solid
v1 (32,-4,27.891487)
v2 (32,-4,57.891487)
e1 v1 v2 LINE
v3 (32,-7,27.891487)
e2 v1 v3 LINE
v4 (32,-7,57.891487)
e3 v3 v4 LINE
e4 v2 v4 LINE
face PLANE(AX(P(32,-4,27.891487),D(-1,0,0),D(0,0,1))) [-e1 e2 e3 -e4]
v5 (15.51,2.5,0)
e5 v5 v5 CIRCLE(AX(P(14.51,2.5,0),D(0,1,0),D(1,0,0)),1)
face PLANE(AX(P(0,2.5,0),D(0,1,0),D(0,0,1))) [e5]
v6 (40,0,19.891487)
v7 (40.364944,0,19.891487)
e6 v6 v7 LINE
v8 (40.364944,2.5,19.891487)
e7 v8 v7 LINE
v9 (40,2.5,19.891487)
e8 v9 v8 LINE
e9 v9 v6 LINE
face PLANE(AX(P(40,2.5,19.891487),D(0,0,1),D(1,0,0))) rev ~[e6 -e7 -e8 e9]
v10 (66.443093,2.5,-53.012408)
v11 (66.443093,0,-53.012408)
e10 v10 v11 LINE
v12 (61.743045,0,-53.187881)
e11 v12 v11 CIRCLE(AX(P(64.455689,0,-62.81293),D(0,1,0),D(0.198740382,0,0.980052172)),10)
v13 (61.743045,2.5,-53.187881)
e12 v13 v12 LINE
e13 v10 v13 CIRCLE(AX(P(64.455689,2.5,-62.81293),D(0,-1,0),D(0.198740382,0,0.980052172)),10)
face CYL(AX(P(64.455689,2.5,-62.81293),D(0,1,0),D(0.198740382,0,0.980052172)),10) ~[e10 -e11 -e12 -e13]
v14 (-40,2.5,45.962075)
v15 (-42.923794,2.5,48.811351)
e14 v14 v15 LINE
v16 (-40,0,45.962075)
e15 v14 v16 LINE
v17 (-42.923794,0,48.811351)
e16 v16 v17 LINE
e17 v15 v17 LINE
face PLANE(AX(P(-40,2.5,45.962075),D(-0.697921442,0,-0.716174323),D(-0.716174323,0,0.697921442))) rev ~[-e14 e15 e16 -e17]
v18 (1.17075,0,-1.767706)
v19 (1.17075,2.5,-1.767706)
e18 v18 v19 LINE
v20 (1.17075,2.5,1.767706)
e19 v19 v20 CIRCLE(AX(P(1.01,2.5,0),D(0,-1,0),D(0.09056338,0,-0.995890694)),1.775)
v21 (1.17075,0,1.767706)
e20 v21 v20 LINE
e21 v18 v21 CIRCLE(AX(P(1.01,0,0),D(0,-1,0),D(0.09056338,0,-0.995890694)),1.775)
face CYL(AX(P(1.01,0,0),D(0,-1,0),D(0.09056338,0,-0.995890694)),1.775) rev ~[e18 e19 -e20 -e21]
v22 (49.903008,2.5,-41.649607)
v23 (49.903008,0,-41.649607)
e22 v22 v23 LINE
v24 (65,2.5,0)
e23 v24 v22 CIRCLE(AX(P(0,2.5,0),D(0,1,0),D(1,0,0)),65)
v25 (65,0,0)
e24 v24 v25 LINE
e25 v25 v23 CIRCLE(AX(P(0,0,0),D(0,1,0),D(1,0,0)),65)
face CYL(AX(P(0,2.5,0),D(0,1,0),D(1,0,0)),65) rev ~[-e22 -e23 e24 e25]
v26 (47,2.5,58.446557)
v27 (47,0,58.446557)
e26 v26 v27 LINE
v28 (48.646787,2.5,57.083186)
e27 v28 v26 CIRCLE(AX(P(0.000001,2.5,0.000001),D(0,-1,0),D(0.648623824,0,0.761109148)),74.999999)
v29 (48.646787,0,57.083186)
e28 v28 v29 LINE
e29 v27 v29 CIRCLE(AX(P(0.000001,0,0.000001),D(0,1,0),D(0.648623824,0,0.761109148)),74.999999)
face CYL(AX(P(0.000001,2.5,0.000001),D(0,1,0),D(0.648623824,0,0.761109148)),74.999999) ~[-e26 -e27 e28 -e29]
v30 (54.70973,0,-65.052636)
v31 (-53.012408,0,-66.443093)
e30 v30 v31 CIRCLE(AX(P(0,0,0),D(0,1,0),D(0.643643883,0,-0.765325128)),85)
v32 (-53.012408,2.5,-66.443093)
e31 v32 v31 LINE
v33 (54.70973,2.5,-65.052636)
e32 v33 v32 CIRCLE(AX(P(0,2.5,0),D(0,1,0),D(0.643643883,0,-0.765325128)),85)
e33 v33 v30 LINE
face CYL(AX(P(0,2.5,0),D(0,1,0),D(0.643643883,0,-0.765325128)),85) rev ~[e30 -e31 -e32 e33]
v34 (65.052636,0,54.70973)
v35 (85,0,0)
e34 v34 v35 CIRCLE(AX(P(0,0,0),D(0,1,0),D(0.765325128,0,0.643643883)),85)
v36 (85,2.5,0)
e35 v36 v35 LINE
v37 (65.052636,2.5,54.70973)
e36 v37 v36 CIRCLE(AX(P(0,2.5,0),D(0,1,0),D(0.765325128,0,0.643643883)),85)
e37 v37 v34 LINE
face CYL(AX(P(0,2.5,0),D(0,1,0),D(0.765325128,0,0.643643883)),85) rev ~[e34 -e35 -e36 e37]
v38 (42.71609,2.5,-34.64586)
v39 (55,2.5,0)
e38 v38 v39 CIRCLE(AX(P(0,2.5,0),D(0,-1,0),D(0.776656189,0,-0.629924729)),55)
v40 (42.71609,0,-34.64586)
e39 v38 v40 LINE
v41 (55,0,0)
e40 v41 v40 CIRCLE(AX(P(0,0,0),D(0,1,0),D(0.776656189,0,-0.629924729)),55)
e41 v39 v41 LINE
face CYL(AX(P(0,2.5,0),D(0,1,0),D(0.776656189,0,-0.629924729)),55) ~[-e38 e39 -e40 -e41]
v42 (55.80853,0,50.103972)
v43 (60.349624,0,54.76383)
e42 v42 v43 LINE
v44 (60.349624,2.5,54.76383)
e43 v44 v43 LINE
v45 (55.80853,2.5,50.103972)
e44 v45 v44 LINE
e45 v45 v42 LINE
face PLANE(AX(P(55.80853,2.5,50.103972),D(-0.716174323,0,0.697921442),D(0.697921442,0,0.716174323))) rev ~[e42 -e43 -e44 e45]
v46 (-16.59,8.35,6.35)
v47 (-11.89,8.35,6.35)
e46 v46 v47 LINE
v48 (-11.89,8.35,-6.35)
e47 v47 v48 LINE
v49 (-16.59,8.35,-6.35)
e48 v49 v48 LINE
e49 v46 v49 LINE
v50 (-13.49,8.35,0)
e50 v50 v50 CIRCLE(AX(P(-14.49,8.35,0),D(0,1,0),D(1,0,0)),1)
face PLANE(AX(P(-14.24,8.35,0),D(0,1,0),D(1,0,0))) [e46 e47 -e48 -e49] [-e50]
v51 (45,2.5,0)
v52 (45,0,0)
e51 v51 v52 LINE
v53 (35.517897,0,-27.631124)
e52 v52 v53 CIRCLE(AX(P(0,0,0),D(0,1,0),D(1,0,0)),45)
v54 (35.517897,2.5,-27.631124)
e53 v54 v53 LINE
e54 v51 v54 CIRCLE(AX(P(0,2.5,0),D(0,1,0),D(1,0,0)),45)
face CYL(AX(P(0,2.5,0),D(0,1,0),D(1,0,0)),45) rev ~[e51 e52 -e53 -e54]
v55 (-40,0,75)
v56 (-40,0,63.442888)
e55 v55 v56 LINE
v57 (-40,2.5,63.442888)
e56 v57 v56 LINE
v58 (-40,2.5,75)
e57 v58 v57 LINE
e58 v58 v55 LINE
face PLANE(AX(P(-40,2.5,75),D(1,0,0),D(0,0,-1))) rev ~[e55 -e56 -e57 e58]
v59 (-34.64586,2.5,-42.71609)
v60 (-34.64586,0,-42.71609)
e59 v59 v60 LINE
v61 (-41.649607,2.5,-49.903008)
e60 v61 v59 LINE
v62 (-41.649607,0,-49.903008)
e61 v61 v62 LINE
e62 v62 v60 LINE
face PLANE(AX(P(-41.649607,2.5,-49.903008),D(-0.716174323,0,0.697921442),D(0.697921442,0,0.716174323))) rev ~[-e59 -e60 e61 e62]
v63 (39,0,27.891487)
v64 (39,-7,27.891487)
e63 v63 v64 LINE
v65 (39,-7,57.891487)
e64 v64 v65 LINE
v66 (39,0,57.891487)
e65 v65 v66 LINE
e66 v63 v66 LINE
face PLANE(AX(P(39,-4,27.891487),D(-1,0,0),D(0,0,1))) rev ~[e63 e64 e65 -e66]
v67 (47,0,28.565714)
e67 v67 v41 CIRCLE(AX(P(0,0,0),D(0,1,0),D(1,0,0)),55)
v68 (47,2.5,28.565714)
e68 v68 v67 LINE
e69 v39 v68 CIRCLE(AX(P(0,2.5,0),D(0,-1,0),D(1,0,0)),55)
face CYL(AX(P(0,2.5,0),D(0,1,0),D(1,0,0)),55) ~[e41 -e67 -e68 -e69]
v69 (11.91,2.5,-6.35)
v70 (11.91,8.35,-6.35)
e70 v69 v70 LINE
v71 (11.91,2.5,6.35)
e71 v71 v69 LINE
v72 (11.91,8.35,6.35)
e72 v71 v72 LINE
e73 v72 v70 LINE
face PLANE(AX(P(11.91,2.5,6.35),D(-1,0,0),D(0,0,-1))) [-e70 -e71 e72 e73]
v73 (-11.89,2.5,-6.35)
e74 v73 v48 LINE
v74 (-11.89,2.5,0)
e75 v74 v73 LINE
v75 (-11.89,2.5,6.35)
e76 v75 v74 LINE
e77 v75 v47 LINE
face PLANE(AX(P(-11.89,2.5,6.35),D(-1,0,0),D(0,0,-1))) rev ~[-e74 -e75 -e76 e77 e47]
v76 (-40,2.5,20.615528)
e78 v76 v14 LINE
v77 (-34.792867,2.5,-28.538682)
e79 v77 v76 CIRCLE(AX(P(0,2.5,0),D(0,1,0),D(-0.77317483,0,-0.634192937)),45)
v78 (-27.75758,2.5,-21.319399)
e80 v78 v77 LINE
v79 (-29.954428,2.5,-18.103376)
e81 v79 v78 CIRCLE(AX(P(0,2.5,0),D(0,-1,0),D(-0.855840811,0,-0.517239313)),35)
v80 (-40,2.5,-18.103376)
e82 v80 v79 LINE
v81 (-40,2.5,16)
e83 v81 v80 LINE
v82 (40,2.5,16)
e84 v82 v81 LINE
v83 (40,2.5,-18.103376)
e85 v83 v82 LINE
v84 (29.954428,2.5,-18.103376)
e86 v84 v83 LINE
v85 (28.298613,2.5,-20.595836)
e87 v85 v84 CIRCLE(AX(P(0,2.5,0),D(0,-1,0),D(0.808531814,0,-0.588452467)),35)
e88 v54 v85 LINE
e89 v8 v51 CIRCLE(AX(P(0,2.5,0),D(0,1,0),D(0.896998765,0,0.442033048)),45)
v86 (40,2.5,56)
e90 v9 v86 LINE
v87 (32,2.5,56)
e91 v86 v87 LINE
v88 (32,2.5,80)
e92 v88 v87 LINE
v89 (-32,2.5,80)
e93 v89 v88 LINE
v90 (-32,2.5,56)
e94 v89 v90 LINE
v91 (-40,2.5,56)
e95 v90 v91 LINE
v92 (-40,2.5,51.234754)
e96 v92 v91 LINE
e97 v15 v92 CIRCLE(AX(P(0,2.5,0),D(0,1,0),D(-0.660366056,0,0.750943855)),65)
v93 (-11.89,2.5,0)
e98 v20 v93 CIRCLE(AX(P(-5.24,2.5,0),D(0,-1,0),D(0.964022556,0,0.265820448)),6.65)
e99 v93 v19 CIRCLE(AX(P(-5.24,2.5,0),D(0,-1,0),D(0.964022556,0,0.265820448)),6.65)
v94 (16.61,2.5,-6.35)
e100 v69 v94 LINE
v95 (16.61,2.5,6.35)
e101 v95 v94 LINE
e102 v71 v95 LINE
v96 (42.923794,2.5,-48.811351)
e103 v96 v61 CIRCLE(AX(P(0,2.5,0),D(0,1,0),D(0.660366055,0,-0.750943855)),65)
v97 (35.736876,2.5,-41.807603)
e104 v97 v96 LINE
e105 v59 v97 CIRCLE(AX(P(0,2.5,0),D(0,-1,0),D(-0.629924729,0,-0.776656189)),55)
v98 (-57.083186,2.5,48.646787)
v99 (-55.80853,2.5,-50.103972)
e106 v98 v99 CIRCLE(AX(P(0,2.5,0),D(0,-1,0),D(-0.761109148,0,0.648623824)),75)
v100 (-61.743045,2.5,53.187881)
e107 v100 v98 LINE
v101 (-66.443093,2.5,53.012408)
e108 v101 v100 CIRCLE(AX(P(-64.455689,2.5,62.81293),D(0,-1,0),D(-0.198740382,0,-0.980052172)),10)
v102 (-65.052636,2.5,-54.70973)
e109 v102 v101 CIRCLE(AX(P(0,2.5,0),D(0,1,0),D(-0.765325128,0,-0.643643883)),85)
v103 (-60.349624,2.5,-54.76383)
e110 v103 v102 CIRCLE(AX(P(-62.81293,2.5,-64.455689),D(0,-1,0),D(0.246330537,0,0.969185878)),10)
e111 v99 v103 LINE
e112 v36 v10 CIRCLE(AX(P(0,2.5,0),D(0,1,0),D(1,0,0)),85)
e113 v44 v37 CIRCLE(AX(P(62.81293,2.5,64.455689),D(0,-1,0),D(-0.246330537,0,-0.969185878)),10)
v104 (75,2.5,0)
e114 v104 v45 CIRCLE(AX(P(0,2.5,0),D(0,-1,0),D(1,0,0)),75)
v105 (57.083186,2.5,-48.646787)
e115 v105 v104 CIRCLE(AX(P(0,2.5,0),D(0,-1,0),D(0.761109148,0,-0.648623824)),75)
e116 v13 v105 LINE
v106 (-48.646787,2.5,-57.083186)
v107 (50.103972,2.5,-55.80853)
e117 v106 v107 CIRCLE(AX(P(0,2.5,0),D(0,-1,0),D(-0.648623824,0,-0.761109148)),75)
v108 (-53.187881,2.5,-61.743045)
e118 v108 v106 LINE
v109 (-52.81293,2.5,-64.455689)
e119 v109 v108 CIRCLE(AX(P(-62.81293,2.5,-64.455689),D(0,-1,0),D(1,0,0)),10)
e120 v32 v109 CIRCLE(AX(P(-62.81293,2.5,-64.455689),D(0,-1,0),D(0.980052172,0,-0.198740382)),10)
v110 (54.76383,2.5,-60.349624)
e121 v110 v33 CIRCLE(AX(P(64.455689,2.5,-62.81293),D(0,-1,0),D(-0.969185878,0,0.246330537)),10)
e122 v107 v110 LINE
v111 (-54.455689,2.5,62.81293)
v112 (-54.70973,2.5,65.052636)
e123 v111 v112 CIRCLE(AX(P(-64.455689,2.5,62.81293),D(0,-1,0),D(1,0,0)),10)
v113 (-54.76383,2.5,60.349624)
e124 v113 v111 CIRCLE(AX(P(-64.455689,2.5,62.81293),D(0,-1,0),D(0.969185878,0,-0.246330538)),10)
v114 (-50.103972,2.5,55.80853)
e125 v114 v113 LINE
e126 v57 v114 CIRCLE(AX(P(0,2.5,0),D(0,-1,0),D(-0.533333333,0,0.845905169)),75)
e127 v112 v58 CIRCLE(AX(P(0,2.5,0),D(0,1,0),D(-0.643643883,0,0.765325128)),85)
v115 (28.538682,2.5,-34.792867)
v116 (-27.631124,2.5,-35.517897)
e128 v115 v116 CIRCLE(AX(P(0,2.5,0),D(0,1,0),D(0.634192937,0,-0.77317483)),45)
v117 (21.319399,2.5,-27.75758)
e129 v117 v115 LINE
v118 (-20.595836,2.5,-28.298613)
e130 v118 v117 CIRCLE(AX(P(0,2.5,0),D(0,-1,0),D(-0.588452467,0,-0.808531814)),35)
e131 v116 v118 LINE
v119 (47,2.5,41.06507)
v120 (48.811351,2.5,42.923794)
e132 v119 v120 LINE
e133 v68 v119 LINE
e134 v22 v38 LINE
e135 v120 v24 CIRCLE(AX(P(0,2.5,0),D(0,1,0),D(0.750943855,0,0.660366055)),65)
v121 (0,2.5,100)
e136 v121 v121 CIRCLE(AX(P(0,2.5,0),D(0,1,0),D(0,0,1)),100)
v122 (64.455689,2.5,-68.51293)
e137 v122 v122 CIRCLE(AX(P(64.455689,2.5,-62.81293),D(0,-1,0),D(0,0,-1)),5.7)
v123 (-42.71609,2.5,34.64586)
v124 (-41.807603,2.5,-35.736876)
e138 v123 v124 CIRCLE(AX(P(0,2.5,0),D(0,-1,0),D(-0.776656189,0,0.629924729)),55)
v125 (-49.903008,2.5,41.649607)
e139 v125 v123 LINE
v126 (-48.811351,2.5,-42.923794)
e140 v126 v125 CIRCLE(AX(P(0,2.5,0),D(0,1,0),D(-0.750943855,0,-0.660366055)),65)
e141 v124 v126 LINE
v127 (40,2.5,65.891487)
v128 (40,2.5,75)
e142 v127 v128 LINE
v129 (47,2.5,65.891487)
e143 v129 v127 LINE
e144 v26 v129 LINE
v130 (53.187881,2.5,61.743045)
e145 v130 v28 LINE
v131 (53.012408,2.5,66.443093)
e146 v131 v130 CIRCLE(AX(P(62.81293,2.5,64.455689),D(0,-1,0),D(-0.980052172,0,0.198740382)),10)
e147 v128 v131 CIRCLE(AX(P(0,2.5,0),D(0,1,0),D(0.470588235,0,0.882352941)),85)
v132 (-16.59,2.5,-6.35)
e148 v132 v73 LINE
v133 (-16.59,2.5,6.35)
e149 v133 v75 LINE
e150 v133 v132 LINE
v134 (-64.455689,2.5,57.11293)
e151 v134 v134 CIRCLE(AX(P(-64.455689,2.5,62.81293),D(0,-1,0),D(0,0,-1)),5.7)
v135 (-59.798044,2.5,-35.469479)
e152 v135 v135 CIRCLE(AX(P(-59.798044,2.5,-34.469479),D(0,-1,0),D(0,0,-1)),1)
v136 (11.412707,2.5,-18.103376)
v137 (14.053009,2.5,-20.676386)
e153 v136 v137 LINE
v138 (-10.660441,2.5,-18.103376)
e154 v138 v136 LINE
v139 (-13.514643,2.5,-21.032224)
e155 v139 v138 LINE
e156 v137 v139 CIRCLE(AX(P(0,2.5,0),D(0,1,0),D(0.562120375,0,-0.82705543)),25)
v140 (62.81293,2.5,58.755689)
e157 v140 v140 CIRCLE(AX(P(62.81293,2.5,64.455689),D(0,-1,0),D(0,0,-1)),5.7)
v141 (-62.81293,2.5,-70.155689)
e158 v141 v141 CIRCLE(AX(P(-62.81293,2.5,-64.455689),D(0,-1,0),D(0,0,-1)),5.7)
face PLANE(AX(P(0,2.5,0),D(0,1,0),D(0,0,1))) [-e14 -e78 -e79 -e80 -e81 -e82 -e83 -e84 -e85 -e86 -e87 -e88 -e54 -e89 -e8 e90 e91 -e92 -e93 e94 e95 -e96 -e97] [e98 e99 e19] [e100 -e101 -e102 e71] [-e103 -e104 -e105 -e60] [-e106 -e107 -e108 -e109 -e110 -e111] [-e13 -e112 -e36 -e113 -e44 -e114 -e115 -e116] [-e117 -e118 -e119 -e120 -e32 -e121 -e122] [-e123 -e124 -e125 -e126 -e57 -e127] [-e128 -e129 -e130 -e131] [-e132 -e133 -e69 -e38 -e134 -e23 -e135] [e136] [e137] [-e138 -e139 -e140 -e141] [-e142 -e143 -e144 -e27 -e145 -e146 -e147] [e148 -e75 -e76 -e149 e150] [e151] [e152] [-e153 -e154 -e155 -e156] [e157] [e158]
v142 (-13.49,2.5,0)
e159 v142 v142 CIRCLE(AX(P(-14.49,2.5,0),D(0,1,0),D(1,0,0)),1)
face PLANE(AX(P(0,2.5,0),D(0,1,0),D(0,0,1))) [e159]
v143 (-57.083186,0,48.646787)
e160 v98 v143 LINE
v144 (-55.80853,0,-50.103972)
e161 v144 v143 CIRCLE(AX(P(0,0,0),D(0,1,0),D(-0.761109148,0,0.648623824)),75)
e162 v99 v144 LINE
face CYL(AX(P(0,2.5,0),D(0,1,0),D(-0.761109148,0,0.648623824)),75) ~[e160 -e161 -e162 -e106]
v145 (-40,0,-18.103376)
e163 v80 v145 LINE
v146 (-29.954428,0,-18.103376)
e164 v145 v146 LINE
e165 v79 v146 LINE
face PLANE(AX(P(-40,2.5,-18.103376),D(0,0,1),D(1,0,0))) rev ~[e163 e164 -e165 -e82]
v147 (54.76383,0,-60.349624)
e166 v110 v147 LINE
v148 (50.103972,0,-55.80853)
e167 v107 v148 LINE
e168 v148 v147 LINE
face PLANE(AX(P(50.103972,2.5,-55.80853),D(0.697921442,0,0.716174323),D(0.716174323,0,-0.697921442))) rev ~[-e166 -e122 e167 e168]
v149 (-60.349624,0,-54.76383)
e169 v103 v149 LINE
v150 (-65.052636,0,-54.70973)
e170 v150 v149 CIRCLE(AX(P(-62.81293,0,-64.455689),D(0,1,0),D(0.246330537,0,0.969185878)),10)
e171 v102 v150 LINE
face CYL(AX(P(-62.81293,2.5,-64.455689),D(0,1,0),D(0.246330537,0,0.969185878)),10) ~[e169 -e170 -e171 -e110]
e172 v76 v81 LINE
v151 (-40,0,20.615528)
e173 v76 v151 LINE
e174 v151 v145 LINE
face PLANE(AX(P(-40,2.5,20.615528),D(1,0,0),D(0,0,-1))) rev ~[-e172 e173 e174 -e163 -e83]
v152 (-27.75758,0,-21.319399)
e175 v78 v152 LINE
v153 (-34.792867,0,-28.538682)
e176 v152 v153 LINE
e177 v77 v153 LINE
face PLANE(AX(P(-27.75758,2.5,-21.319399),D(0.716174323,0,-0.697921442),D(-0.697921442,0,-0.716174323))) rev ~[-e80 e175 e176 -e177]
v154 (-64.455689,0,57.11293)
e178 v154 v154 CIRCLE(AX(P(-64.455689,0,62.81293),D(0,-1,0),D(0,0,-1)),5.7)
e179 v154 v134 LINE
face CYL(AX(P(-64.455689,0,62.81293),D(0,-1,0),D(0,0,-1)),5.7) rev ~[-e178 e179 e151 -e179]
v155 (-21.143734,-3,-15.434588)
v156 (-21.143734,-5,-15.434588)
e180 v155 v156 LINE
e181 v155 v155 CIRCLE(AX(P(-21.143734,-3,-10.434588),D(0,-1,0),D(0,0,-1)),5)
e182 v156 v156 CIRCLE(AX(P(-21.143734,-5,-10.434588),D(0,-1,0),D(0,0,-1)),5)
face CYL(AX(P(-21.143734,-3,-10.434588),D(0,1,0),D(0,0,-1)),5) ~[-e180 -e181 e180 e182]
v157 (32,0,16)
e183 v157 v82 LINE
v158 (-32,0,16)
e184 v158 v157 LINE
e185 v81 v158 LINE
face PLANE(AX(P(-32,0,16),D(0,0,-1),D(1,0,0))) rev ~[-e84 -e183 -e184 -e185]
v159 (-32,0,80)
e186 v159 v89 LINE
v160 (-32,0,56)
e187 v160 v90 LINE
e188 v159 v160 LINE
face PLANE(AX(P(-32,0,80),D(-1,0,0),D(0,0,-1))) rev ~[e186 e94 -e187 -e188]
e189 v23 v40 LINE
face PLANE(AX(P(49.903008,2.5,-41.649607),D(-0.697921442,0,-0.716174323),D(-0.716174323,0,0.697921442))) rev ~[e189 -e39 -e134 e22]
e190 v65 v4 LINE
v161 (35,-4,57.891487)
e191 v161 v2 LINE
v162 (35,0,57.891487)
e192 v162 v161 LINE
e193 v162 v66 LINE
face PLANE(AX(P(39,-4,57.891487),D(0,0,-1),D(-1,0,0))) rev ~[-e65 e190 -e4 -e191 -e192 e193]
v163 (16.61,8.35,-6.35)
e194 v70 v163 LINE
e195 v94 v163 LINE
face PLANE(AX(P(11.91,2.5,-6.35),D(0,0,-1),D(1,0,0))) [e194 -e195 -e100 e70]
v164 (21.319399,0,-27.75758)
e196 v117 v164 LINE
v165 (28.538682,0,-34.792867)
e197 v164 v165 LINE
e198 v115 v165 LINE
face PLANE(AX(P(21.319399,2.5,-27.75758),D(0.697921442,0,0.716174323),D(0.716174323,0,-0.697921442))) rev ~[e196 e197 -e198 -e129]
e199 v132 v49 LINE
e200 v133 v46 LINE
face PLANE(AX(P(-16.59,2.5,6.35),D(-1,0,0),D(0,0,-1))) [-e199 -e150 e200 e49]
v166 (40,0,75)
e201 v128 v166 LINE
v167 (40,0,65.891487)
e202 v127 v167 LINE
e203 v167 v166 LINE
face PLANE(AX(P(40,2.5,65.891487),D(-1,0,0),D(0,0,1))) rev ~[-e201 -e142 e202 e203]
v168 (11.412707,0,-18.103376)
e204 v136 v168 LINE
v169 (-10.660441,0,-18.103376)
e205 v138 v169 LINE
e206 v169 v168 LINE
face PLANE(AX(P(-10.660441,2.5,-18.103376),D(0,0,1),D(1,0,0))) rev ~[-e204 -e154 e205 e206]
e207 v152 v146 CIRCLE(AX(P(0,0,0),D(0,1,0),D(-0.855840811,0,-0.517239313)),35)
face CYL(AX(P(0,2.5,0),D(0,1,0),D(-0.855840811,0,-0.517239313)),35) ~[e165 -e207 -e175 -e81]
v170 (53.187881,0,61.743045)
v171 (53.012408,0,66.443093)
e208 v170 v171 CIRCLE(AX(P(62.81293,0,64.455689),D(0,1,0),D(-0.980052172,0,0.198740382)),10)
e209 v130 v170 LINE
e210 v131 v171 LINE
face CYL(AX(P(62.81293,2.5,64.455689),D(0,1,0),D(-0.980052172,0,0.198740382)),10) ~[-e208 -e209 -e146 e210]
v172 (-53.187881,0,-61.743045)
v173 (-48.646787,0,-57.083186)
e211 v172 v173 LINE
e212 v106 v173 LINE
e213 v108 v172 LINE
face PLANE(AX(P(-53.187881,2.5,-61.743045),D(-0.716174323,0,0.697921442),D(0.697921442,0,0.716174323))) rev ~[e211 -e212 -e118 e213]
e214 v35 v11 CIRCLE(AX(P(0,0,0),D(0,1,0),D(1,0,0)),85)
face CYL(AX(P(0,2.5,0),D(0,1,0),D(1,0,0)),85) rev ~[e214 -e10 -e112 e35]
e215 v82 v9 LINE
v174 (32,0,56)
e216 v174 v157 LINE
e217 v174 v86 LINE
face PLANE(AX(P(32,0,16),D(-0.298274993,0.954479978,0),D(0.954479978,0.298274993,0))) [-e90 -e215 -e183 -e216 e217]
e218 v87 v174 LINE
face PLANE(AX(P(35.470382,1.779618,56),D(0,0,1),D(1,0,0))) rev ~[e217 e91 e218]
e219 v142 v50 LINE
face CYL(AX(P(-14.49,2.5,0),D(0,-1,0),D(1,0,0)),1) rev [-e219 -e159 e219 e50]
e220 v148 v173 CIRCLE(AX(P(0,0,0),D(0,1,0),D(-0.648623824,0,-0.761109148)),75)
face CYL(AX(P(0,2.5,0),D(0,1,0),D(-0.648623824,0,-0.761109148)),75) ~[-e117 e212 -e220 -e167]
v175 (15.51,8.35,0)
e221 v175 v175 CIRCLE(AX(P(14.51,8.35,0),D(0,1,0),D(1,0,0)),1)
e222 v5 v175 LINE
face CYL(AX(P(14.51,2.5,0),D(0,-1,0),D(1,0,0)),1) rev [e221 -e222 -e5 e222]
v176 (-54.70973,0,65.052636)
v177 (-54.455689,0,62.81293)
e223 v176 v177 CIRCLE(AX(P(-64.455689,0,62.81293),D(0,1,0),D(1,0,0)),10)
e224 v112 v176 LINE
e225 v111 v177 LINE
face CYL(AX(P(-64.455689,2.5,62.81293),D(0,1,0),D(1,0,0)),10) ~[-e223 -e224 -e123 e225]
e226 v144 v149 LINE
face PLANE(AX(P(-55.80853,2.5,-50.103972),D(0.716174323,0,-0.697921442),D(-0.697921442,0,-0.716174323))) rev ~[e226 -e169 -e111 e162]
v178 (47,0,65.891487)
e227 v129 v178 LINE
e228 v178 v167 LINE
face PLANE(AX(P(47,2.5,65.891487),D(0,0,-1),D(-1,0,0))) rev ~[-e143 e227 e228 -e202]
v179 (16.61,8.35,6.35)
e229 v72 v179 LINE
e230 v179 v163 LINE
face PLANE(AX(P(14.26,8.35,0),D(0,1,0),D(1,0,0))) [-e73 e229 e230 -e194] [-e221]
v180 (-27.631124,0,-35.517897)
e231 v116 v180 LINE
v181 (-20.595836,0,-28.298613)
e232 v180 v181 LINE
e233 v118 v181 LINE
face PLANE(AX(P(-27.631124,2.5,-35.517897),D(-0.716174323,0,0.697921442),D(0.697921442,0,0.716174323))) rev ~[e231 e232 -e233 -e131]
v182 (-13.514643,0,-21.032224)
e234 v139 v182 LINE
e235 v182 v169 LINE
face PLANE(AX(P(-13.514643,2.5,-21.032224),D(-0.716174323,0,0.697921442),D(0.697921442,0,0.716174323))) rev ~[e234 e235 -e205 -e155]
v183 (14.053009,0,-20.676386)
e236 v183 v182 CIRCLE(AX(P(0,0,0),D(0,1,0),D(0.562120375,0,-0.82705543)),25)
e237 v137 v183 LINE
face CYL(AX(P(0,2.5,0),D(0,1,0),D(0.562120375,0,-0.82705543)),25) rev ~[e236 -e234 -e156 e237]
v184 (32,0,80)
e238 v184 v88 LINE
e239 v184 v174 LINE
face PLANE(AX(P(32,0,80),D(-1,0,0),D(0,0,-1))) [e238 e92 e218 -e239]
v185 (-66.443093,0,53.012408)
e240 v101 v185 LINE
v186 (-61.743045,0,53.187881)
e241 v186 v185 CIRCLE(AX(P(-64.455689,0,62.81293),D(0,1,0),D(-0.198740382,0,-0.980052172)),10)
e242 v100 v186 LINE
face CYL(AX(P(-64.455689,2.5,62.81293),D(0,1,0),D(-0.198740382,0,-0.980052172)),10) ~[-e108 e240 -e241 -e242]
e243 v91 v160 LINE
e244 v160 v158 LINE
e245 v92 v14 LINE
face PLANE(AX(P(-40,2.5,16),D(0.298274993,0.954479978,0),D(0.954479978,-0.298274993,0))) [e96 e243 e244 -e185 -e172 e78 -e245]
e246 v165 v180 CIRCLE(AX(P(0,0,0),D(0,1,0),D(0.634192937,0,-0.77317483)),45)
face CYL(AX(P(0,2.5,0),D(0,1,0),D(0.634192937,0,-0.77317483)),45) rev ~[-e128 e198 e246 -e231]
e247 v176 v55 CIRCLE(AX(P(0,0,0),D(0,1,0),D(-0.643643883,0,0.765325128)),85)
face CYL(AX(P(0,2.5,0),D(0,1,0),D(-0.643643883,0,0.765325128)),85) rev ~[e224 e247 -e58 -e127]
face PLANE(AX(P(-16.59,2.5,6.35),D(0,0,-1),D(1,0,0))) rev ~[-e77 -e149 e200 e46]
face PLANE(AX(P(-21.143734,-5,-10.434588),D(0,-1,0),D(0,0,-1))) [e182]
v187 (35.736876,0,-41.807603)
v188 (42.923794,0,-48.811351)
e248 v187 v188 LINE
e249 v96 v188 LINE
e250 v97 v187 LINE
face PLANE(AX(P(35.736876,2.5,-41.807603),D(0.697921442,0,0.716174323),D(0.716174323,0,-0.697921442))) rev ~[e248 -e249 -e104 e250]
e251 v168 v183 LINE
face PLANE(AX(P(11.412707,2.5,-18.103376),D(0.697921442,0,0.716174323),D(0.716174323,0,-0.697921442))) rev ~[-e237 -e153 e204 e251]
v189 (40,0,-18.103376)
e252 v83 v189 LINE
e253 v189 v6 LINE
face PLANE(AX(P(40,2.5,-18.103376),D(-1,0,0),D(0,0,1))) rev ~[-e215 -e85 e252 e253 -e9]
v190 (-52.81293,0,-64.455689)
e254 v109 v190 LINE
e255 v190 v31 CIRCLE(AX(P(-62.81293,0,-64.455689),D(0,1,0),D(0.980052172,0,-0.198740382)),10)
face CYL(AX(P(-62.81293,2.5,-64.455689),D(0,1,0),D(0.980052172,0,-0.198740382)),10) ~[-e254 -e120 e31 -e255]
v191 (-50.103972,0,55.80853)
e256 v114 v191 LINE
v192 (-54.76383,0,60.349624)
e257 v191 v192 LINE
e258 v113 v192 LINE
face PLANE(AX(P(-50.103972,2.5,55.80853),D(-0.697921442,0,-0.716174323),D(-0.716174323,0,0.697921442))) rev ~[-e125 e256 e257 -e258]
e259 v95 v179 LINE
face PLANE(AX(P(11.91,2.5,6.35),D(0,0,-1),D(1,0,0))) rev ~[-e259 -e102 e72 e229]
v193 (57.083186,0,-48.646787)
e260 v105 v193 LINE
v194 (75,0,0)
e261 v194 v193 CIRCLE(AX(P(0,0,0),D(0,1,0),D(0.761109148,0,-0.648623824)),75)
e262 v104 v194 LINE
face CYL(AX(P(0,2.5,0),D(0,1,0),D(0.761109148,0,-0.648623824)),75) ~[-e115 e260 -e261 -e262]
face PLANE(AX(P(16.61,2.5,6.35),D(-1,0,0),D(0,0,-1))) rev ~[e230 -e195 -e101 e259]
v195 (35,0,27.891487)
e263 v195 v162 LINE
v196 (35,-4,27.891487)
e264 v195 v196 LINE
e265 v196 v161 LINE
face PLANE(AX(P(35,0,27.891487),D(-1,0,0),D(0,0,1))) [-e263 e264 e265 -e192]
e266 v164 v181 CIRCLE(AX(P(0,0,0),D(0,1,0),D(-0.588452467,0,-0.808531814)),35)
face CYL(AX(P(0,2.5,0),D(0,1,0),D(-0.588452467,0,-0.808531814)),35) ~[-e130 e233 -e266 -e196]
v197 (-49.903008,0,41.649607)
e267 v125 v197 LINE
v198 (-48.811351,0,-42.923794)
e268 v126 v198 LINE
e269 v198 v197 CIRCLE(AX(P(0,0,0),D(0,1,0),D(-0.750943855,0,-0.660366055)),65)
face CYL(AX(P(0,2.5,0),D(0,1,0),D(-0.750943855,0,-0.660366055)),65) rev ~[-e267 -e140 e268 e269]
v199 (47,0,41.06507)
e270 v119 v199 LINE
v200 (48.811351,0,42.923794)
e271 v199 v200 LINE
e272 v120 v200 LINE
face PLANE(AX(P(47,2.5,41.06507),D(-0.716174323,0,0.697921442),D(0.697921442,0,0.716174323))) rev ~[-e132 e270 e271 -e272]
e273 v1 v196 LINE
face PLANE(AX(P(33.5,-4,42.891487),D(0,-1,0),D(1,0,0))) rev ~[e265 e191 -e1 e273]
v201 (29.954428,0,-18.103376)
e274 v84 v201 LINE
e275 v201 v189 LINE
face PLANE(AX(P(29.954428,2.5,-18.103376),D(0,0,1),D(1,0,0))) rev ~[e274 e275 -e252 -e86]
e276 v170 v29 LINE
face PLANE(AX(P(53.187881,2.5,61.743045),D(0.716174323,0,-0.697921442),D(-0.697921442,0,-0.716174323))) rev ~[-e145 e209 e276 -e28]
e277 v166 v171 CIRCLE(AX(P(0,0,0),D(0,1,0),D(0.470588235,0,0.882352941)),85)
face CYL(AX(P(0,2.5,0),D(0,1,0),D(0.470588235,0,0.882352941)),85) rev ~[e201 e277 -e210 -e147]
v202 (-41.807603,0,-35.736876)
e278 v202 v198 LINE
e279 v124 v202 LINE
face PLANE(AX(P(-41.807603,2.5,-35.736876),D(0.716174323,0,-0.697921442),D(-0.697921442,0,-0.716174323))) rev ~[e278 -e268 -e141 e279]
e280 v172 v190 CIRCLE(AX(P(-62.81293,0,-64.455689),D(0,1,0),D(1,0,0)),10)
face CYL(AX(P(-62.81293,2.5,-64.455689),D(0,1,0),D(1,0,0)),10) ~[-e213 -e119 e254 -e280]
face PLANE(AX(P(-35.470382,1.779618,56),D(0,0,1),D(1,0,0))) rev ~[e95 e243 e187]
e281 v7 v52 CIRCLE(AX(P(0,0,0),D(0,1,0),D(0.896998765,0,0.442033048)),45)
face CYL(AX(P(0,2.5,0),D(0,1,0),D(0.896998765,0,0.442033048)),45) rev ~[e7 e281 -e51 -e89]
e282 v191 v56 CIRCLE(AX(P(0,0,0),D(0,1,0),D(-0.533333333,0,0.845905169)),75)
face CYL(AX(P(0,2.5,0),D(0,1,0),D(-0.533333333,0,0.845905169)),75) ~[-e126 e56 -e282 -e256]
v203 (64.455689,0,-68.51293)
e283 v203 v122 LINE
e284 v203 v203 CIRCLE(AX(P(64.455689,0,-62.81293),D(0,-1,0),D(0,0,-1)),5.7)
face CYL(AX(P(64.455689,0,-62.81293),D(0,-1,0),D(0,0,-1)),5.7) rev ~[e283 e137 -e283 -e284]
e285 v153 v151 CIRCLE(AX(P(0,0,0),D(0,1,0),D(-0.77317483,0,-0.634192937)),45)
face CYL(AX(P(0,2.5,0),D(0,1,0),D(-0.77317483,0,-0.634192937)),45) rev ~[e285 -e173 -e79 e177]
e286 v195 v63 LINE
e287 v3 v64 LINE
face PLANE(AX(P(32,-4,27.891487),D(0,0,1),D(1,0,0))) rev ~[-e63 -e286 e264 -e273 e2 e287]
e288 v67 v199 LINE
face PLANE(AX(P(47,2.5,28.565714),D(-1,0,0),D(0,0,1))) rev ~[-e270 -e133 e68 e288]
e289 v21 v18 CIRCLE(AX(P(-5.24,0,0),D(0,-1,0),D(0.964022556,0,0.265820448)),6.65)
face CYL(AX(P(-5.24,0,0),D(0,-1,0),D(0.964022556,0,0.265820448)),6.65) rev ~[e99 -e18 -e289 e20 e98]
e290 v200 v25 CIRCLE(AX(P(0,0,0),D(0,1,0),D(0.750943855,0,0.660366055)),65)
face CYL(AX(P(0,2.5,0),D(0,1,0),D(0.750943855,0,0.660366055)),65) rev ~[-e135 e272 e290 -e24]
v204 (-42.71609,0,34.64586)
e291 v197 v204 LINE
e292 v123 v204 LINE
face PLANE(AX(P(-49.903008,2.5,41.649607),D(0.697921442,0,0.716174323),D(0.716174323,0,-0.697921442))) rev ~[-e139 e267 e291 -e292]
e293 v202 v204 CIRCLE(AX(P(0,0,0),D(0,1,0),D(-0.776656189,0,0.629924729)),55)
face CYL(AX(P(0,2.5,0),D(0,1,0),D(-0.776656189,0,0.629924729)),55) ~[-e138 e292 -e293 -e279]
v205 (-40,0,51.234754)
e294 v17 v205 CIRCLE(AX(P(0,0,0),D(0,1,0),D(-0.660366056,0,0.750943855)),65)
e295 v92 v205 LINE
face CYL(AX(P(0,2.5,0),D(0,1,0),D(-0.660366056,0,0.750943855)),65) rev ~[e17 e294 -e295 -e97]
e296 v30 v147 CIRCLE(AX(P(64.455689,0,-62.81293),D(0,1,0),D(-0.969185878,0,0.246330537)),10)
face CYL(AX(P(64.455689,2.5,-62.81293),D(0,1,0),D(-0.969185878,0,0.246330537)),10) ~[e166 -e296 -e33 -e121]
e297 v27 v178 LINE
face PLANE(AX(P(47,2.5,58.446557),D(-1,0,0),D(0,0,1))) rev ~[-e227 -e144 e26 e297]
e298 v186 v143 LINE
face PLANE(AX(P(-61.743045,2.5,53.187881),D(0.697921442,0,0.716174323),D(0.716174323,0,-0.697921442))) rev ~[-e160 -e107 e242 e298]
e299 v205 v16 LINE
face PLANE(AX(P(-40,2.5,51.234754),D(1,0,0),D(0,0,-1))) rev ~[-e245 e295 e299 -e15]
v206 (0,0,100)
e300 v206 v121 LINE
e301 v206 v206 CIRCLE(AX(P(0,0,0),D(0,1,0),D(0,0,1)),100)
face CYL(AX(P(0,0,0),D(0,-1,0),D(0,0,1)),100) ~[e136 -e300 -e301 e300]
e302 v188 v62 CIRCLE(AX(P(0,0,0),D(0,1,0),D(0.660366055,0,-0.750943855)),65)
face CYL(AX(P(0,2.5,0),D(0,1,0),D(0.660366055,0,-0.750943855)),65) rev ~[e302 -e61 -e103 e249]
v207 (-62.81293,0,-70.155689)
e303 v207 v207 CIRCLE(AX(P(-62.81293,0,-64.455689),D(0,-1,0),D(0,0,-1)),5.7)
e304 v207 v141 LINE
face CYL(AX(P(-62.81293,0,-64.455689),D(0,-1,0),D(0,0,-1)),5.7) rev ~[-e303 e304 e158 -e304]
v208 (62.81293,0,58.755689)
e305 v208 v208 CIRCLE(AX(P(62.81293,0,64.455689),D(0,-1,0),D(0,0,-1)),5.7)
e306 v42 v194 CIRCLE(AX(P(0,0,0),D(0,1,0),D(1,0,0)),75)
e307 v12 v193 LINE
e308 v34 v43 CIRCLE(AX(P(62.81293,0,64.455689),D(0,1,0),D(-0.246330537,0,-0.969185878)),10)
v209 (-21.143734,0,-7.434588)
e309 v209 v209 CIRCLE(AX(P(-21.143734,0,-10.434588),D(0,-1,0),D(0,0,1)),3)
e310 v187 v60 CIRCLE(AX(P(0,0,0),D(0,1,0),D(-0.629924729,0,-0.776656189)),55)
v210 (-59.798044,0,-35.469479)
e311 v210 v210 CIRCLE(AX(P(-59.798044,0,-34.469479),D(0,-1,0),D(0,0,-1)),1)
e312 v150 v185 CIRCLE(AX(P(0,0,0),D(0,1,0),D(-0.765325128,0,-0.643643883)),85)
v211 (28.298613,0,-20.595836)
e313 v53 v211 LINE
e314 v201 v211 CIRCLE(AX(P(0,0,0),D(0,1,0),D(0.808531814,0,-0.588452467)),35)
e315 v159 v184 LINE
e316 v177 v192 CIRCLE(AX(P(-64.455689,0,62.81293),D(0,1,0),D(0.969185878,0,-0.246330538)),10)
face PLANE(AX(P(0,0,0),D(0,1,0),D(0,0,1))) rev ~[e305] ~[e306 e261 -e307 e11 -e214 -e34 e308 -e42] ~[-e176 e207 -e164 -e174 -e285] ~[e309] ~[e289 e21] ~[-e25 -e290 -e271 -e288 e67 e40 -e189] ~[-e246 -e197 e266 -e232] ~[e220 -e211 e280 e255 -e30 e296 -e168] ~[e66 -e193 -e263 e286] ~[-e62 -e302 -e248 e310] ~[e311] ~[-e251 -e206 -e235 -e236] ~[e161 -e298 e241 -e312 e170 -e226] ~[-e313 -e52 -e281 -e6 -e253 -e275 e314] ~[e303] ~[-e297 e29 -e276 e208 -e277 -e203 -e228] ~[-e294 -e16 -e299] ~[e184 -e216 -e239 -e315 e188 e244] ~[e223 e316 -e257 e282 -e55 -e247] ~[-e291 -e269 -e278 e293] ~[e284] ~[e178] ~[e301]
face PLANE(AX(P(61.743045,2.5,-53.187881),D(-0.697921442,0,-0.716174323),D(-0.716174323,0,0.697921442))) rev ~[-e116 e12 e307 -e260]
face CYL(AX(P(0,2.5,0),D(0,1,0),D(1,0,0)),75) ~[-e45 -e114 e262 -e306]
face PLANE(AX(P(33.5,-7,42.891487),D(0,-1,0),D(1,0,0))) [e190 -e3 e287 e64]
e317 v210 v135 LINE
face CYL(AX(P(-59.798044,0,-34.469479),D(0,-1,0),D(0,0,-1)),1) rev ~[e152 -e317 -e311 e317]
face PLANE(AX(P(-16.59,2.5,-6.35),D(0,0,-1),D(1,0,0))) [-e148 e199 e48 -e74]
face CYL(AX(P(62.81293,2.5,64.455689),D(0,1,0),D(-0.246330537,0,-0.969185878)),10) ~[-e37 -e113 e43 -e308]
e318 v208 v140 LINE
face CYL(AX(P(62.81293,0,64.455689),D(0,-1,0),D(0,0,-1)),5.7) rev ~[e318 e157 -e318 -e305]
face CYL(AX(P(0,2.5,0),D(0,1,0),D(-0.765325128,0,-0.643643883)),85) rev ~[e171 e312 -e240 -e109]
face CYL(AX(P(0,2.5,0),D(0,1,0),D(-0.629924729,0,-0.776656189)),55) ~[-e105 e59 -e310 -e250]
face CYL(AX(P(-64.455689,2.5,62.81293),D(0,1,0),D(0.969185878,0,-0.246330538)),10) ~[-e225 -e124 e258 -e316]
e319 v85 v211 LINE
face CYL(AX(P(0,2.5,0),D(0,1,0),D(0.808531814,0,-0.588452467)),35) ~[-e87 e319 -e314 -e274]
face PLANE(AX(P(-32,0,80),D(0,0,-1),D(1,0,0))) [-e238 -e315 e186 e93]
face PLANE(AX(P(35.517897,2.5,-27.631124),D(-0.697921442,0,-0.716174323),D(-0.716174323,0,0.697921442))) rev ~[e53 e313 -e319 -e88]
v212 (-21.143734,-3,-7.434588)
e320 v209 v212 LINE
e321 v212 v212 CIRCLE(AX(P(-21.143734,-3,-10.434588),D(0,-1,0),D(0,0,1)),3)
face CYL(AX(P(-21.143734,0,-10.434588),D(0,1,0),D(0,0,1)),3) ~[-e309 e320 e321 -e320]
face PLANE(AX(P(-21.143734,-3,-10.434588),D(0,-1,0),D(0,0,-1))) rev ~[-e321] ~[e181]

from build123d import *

# Parameters (mm, degrees)
IZIM1_R                     = 100
IZIM1_W                     = 64
IZIM1_H                     = 64
Y_KSEKLIK_EKSTR_ZYON1_DEPTH = 2.5
KES_EKSTR_ZYON1_DEPTH       = 142.443451598
IZIM3_W                     = 4.7
IZIM3_H                     = 12.7
IZIM3_R                     = 1
Y_KSEKLIK_EKSTR_ZYON2_DEPTH = 5.85
IZIM4_W                     = 4
IZIM4_H                     = 30
Y_KSEKLIK_EKSTR_ZYON3_DEPTH = 4
Y_KSEKLIK_EKSTR_ZYON4_START = 4
IZIM4_3_W                   = 3
IZIM4_3_H                   = 30
IZIM4_3_W_2                 = 4
Y_KSEKLIK_EKSTR_ZYON4_DEPTH = 3
IZIM5_R                     = 3
Y_KSEKLIK_EKSTR_ZYON5_DEPTH = 3
Y_KSEKLIK_EKSTR_ZYON6_START = 3
IZIM5_3_R                   = 5
Y_KSEKLIK_EKSTR_ZYON6_DEPTH = 2
IZIM11_R                    = 1
KES_EKSTR_ZYON5_DEPTH       = 142.667648036
IZIM12_R                    = 5.7
KES_EKSTR_ZYON6_DEPTH       = 142.667648036
KES_EKSTR_ZYON7_DEPTH       = 142.740079018
KES_EKSTR_ZYON8_DEPTH       = 40


with BuildPart() as part:
    # Çizim1 → Yükseklik-Ekstrüzyon1 (new body)
    with BuildSketch(Plane(origin=(0, 0, 0), x_dir=(1, 0, 0), z_dir=(0, 1, 0))):
        with Locations(Location((0, 0, 0), (0, 0, 270))):
            Circle(IZIM1_R)
        with Locations((0, -48)):
            Rectangle(IZIM1_W, IZIM1_H, mode=Mode.SUBTRACT)
    extrude(amount=Y_KSEKLIK_EKSTR_ZYON1_DEPTH)

    # Çizim2 → Kes-Ekstrüzyon1 (cut, through all)
    with BuildSketch(Plane.XZ):
        with BuildLine():
            ThreePointArc((1.17075, 1.767705982), (-11.89, 0), (1.17075, -1.767705982))
            ThreePointArc((1.17075, -1.767705982), (2.785, 0), (1.17075, 1.767705982))
        make_face()
        with BuildLine():
            ThreePointArc((0.78075, 1.254220649), (-11.39, 0), (0.78075, -1.254220649))
            ThreePointArc((0.78075, -1.254220649), (2.285, 0), (0.78075, 1.254220649))
        make_face(mode=Mode.SUBTRACT)
        with BuildLine():
            ThreePointArc((0.78075, -1.254220649), (2.285, 0), (0.78075, 1.254220649))
            ThreePointArc((0.78075, 1.254220649), (-11.39, 0), (0.78075, -1.254220649))
        make_face()
    extrude(amount=-KES_EKSTR_ZYON1_DEPTH, mode=Mode.SUBTRACT)

    # Çizim3 → Yükseklik-Ekstrüzyon2 (add)
    with BuildSketch(Plane(origin=(0, 2.5, 0), x_dir=(1, 0, 0), z_dir=(0, 1, 0))):
        with Locations((-14.24, 0)):
            Rectangle(IZIM3_W, IZIM3_H)
        with Locations((-14.49, 0)):
            Circle(IZIM3_R, mode=Mode.SUBTRACT)
        with Locations((14.26, 0)):
            Rectangle(IZIM3_W, IZIM3_H)
        with Locations((14.51, 0)):
            Circle(IZIM3_R, mode=Mode.SUBTRACT)
    extrude(amount=Y_KSEKLIK_EKSTR_ZYON2_DEPTH)

    # Çizim4 → Yükseklik-Ekstrüzyon3 (add)
    with BuildSketch(Plane.XZ):
        with Locations((37, 42.891487162)):
            Rectangle(IZIM4_W, IZIM4_H)
    extrude(amount=Y_KSEKLIK_EKSTR_ZYON3_DEPTH)

    # Çizim4<3> → Yükseklik-Ekstrüzyon4 (add)
    with BuildSketch(Plane.XZ.offset(Y_KSEKLIK_EKSTR_ZYON4_START)):
        with Locations((33.5, 42.891487162)):
            Rectangle(IZIM4_3_W, IZIM4_3_H)
        with Locations((37, 42.891487162)):
            Rectangle(IZIM4_3_W_2, IZIM4_3_H)
    extrude(amount=Y_KSEKLIK_EKSTR_ZYON4_DEPTH)

    # Çizim5 → Yükseklik-Ekstrüzyon5 (add)
    with BuildSketch(Plane.XZ):
        with Locations(Location((-21.143733637, -10.434588388, 0), (0, 0, 90))):
            Circle(IZIM5_R)
    extrude(amount=Y_KSEKLIK_EKSTR_ZYON5_DEPTH)

    # Çizim5<3> → Yükseklik-Ekstrüzyon6 (add)
    with BuildSketch(Plane.XZ.offset(Y_KSEKLIK_EKSTR_ZYON6_START)):
        with Locations(Location((-21.143733637, -10.434588388, 0), (0, 0, 270))):
            Circle(IZIM5_3_R)
    extrude(amount=Y_KSEKLIK_EKSTR_ZYON6_DEPTH)

    # Çizim11 → Kes-Ekstrüzyon5 (cut, through all)
    with BuildSketch(Plane.XZ):
        with Locations(Location((-59.798043504, -34.469478679, 0), (0, 0, 270))):
            Circle(IZIM11_R)
    extrude(amount=-KES_EKSTR_ZYON5_DEPTH, mode=Mode.SUBTRACT)

    # Çizim12 → Kes-Ekstrüzyon6 (cut, through all)
    with BuildSketch(Plane.XZ):
        with Locations(Location((-64.455689055, 62.812929787, 0), (0, 0, 270))):
            Circle(IZIM12_R)
        with Locations(Location((62.812929787, 64.455689055, 0), (0, 0, 270))):
            Circle(IZIM12_R)
        with Locations(Location((64.455689055, -62.812929787, 0), (0, 0, 270))):
            Circle(IZIM12_R)
        with Locations(Location((-62.812929787, -64.455689055, 0), (0, 0, 270))):
            Circle(IZIM12_R)
    extrude(amount=-KES_EKSTR_ZYON6_DEPTH, mode=Mode.SUBTRACT)

    # Çizim13 → Kes-Ekstrüzyon7 (cut, through all)
    with BuildSketch(Plane(origin=(0, 2.5, 0), x_dir=(1, 0, 0), z_dir=(0, 1, 0))):
        with BuildLine():
            Line((49.903008022, 41.649607326), (42.716090382, 34.645860105))
            ThreePointArc((42.716090382, 34.645860105), (51.838137365, 18.379540649), (55, 0))
            ThreePointArc((55, 0), (52.962250707, -14.832396974), (47, -28.565713714))
            Line((47, -28.565713714), (47, -41.065070429))
            Line((47, -41.065070429), (48.811350554, -42.923793601))
            ThreePointArc((48.811350554, -42.923793601), (60.81832695, -22.937547973), (65, 0))
            ThreePointArc((65, 0), (61.109309935, 22.150671306), (49.903008022, 41.649607326))
        make_face()
        with BuildLine():
            Line((35.517896602, 27.631124135), (28.298613495, 20.595836333))
            ThreePointArc((28.298613495, 20.595836333), (29.153169835, 19.367309792), (29.954428374, 18.10337595))
            Line((29.954428374, 18.10337595), (40, 18.10337595))
            Line((40, 18.10337595), (40, -19.891487162))
            Line((40, -19.891487162), (40.364944426, -19.891487162))
            ThreePointArc((40.364944426, -19.891487162), (43.825919837, -10.212186368), (45, 0))
            ThreePointArc((45, 0), (42.563513407, 14.606413881), (35.517896602, 27.631124135))
        make_face()
        with BuildLine():
            Line((61.743044694, 53.187881186), (57.083186115, 48.646786769))
            ThreePointArc((57.083186115, 48.646786769), (70.37840208, 25.920658184), (75, 0))
            ThreePointArc((75, 0), (70.037988798, -26.826854551), (55.808529997, -50.103971694))
            Line((55.808529997, -50.103971694), (60.349624415, -54.763830273))
            ThreePointArc((60.349624415, -54.763830273), (62.697904283, -54.45635062), (65.052635888, -54.709730067))
            ThreePointArc((65.052635888, -54.709730067), (79.85760468, -29.116369533), (85, 0))
            ThreePointArc((85, 0), (80.226750198, 28.083243272), (66.443092878, 53.012408064))
            ThreePointArc((66.443092878, 53.012408064), (64.082605735, 52.819891769), (61.743044694, 53.187881186))
        make_face()
        with BuildLine():
            Line((-53.187881186, 61.743044694), (-48.646786769, 57.083186115))
            ThreePointArc((-48.646786769, 57.083186115), (0.968005182, 74.993752846), (50.103971694, 55.808529997))
            Line((50.103971694, 55.808529997), (54.763830273, 60.349624415))
            ThreePointArc((54.763830273, 60.349624415), (54.45635062, 62.697904283), (54.709730067, 65.052635888))
            ThreePointArc((54.709730067, 65.052635888), (1.097072539, 84.992919892), (-53.012408064, 66.443092878))
            ThreePointArc((-53.012408064, 66.443092878), (-52.862924329, 65.454383896), (-52.812929787, 64.455689055))
            ThreePointArc((-52.812929787, 64.455689055), (-52.907111143, 63.086471397), (-53.187881186, 61.743044694))
        make_face()
        with BuildLine():
            Line((-41.649607326, 49.903008022), (-34.645860105, 42.716090382))
            ThreePointArc((-34.645860105, 42.716090382), (0.709870466, 54.995418754), (35.736875962, 41.807603334))
            Line((35.736875962, 41.807603334), (42.923793601, 48.811350554))
            ThreePointArc((42.923793601, 48.811350554), (0.838937824, 64.9945858), (-41.649607326, 49.903008022))
        make_face()
        with BuildLine():
            Line((-27.631124135, 35.517896602), (-20.595836333, 28.298613495))
            ThreePointArc((-20.595836333, 28.298613495), (0.451735751, 34.997084662), (21.319399074, 27.757579562))
            Line((21.319399074, 27.757579562), (28.538682181, 34.792867363))
            ThreePointArc((28.538682181, 34.792867363), (0.580803109, 44.996251708), (-27.631124135, 35.517896602))
        make_face()
        with BuildLine():
            Line((-13.514642522, 21.032223789), (-10.660441189, 18.10337595))
            Line((-10.660441189, 18.10337595), (11.412707121, 18.10337595))
            Line((11.412707121, 18.10337595), (14.053009368, 20.676385751))
            ThreePointArc((14.053009368, 20.676385751), (0.322668394, 24.997917615), (-13.514642522, 21.032223789))
        make_face()
        with BuildLine():
            Line((-40, 18.10337595), (-29.954428374, 18.10337595))
            ThreePointArc((-29.954428374, 18.10337595), (-28.900772761, 19.741968844), (-27.757579562, 21.319399074))
            Line((-27.757579562, 21.319399074), (-34.792867363, 28.538682181))
            ThreePointArc((-34.792867363, 28.538682181), (-44.74960726, 4.740532682), (-40, -20.615528128))
            Line((-40, -20.615528128), (-40, 18.10337595))
        make_face()
        with BuildLine():
            Line((-49.903008022, -41.649607326), (-42.716090382, -34.645860105))
            ThreePointArc((-42.716090382, -34.645860105), (-54.995418754, 0.709870466), (-41.807603334, 35.736875962))
            Line((-41.807603334, 35.736875962), (-48.811350554, 42.923793601))
            ThreePointArc((-48.811350554, 42.923793601), (-64.9945858, 0.838937824), (-49.903008022, -41.649607326))
        make_face()
        with BuildLine():
            Line((-61.743044694, -53.187881186), (-57.083186115, -48.646786769))
            ThreePointArc((-57.083186115, -48.646786769), (-74.993752846, 0.968005182), (-55.808529997, 50.103971694))
            Line((-55.808529997, 50.103971694), (-60.349624415, 54.763830273))
            ThreePointArc((-60.349624415, 54.763830273), (-62.697904283, 54.45635062), (-65.052635888, 54.709730067))
            ThreePointArc((-65.052635888, 54.709730067), (-84.992919892, 1.097072539), (-66.443092878, -53.012408064))
            ThreePointArc((-66.443092878, -53.012408064), (-64.082605735, -52.819891769), (-61.743044694, -53.187881186))
        make_face()
        with BuildLine():
            Line((-40, -75), (-40, -63.442887702))
            ThreePointArc((-40, -63.442887702), (-45.213408223, -59.839349235), (-50.103971694, -55.808529997))
            Line((-50.103971694, -55.808529997), (-54.763830273, -60.349624415))
            ThreePointArc((-54.763830273, -60.349624415), (-54.533023389, -61.571677963), (-54.455689055, -62.812929787))
            ThreePointArc((-54.455689055, -62.812929787), (-54.519402277, -63.939963533), (-54.709730067, -65.052635888))
            ThreePointArc((-54.709730067, -65.052635888), (-47.615341599, -70.411499376), (-40, -75))
        make_face()
        with BuildLine():
            Line((-40, -51.23475383), (-40, -45.962074643))
            Line((-40, -45.962074643), (-42.923793601, -48.811350554))
            ThreePointArc((-42.923793601, -48.811350554), (-41.479598686, -50.044409207), (-40, -51.23475383))
        make_face()
        with BuildLine():
            ThreePointArc((48.646786769, -57.083186115), (47.828251585, -57.770739569), (47, -58.446556785))
            Line((47, -58.446556785), (47, -65.891487162))
            Line((47, -65.891487162), (40, -65.891487162))
            Line((40, -65.891487162), (40, -75))
            ThreePointArc((40, -75), (46.702592844, -71.020193056), (53.012408064, -66.443092878))
            ThreePointArc((53.012408064, -66.443092878), (52.819891769, -64.082605735), (53.187881186, -61.743044694))
            Line((53.187881186, -61.743044694), (48.646786769, -57.083186115))
        make_face()
    extrude(amount=-KES_EKSTR_ZYON7_DEPTH, mode=Mode.SUBTRACT)

    # Çizim14 → Kes-Ekstrüzyon8 (cut)
    with BuildSketch(Plane.XY.offset(16)):
        Polygon((-32, 0), (-32, 2.5), (-40, 2.5), align=None)
        Polygon((32, 2.5), (32, 0), (40, 2.5), align=None)
    extrude(amount=KES_EKSTR_ZYON8_DEPTH, mode=Mode.SUBTRACT)


solid = part.part
